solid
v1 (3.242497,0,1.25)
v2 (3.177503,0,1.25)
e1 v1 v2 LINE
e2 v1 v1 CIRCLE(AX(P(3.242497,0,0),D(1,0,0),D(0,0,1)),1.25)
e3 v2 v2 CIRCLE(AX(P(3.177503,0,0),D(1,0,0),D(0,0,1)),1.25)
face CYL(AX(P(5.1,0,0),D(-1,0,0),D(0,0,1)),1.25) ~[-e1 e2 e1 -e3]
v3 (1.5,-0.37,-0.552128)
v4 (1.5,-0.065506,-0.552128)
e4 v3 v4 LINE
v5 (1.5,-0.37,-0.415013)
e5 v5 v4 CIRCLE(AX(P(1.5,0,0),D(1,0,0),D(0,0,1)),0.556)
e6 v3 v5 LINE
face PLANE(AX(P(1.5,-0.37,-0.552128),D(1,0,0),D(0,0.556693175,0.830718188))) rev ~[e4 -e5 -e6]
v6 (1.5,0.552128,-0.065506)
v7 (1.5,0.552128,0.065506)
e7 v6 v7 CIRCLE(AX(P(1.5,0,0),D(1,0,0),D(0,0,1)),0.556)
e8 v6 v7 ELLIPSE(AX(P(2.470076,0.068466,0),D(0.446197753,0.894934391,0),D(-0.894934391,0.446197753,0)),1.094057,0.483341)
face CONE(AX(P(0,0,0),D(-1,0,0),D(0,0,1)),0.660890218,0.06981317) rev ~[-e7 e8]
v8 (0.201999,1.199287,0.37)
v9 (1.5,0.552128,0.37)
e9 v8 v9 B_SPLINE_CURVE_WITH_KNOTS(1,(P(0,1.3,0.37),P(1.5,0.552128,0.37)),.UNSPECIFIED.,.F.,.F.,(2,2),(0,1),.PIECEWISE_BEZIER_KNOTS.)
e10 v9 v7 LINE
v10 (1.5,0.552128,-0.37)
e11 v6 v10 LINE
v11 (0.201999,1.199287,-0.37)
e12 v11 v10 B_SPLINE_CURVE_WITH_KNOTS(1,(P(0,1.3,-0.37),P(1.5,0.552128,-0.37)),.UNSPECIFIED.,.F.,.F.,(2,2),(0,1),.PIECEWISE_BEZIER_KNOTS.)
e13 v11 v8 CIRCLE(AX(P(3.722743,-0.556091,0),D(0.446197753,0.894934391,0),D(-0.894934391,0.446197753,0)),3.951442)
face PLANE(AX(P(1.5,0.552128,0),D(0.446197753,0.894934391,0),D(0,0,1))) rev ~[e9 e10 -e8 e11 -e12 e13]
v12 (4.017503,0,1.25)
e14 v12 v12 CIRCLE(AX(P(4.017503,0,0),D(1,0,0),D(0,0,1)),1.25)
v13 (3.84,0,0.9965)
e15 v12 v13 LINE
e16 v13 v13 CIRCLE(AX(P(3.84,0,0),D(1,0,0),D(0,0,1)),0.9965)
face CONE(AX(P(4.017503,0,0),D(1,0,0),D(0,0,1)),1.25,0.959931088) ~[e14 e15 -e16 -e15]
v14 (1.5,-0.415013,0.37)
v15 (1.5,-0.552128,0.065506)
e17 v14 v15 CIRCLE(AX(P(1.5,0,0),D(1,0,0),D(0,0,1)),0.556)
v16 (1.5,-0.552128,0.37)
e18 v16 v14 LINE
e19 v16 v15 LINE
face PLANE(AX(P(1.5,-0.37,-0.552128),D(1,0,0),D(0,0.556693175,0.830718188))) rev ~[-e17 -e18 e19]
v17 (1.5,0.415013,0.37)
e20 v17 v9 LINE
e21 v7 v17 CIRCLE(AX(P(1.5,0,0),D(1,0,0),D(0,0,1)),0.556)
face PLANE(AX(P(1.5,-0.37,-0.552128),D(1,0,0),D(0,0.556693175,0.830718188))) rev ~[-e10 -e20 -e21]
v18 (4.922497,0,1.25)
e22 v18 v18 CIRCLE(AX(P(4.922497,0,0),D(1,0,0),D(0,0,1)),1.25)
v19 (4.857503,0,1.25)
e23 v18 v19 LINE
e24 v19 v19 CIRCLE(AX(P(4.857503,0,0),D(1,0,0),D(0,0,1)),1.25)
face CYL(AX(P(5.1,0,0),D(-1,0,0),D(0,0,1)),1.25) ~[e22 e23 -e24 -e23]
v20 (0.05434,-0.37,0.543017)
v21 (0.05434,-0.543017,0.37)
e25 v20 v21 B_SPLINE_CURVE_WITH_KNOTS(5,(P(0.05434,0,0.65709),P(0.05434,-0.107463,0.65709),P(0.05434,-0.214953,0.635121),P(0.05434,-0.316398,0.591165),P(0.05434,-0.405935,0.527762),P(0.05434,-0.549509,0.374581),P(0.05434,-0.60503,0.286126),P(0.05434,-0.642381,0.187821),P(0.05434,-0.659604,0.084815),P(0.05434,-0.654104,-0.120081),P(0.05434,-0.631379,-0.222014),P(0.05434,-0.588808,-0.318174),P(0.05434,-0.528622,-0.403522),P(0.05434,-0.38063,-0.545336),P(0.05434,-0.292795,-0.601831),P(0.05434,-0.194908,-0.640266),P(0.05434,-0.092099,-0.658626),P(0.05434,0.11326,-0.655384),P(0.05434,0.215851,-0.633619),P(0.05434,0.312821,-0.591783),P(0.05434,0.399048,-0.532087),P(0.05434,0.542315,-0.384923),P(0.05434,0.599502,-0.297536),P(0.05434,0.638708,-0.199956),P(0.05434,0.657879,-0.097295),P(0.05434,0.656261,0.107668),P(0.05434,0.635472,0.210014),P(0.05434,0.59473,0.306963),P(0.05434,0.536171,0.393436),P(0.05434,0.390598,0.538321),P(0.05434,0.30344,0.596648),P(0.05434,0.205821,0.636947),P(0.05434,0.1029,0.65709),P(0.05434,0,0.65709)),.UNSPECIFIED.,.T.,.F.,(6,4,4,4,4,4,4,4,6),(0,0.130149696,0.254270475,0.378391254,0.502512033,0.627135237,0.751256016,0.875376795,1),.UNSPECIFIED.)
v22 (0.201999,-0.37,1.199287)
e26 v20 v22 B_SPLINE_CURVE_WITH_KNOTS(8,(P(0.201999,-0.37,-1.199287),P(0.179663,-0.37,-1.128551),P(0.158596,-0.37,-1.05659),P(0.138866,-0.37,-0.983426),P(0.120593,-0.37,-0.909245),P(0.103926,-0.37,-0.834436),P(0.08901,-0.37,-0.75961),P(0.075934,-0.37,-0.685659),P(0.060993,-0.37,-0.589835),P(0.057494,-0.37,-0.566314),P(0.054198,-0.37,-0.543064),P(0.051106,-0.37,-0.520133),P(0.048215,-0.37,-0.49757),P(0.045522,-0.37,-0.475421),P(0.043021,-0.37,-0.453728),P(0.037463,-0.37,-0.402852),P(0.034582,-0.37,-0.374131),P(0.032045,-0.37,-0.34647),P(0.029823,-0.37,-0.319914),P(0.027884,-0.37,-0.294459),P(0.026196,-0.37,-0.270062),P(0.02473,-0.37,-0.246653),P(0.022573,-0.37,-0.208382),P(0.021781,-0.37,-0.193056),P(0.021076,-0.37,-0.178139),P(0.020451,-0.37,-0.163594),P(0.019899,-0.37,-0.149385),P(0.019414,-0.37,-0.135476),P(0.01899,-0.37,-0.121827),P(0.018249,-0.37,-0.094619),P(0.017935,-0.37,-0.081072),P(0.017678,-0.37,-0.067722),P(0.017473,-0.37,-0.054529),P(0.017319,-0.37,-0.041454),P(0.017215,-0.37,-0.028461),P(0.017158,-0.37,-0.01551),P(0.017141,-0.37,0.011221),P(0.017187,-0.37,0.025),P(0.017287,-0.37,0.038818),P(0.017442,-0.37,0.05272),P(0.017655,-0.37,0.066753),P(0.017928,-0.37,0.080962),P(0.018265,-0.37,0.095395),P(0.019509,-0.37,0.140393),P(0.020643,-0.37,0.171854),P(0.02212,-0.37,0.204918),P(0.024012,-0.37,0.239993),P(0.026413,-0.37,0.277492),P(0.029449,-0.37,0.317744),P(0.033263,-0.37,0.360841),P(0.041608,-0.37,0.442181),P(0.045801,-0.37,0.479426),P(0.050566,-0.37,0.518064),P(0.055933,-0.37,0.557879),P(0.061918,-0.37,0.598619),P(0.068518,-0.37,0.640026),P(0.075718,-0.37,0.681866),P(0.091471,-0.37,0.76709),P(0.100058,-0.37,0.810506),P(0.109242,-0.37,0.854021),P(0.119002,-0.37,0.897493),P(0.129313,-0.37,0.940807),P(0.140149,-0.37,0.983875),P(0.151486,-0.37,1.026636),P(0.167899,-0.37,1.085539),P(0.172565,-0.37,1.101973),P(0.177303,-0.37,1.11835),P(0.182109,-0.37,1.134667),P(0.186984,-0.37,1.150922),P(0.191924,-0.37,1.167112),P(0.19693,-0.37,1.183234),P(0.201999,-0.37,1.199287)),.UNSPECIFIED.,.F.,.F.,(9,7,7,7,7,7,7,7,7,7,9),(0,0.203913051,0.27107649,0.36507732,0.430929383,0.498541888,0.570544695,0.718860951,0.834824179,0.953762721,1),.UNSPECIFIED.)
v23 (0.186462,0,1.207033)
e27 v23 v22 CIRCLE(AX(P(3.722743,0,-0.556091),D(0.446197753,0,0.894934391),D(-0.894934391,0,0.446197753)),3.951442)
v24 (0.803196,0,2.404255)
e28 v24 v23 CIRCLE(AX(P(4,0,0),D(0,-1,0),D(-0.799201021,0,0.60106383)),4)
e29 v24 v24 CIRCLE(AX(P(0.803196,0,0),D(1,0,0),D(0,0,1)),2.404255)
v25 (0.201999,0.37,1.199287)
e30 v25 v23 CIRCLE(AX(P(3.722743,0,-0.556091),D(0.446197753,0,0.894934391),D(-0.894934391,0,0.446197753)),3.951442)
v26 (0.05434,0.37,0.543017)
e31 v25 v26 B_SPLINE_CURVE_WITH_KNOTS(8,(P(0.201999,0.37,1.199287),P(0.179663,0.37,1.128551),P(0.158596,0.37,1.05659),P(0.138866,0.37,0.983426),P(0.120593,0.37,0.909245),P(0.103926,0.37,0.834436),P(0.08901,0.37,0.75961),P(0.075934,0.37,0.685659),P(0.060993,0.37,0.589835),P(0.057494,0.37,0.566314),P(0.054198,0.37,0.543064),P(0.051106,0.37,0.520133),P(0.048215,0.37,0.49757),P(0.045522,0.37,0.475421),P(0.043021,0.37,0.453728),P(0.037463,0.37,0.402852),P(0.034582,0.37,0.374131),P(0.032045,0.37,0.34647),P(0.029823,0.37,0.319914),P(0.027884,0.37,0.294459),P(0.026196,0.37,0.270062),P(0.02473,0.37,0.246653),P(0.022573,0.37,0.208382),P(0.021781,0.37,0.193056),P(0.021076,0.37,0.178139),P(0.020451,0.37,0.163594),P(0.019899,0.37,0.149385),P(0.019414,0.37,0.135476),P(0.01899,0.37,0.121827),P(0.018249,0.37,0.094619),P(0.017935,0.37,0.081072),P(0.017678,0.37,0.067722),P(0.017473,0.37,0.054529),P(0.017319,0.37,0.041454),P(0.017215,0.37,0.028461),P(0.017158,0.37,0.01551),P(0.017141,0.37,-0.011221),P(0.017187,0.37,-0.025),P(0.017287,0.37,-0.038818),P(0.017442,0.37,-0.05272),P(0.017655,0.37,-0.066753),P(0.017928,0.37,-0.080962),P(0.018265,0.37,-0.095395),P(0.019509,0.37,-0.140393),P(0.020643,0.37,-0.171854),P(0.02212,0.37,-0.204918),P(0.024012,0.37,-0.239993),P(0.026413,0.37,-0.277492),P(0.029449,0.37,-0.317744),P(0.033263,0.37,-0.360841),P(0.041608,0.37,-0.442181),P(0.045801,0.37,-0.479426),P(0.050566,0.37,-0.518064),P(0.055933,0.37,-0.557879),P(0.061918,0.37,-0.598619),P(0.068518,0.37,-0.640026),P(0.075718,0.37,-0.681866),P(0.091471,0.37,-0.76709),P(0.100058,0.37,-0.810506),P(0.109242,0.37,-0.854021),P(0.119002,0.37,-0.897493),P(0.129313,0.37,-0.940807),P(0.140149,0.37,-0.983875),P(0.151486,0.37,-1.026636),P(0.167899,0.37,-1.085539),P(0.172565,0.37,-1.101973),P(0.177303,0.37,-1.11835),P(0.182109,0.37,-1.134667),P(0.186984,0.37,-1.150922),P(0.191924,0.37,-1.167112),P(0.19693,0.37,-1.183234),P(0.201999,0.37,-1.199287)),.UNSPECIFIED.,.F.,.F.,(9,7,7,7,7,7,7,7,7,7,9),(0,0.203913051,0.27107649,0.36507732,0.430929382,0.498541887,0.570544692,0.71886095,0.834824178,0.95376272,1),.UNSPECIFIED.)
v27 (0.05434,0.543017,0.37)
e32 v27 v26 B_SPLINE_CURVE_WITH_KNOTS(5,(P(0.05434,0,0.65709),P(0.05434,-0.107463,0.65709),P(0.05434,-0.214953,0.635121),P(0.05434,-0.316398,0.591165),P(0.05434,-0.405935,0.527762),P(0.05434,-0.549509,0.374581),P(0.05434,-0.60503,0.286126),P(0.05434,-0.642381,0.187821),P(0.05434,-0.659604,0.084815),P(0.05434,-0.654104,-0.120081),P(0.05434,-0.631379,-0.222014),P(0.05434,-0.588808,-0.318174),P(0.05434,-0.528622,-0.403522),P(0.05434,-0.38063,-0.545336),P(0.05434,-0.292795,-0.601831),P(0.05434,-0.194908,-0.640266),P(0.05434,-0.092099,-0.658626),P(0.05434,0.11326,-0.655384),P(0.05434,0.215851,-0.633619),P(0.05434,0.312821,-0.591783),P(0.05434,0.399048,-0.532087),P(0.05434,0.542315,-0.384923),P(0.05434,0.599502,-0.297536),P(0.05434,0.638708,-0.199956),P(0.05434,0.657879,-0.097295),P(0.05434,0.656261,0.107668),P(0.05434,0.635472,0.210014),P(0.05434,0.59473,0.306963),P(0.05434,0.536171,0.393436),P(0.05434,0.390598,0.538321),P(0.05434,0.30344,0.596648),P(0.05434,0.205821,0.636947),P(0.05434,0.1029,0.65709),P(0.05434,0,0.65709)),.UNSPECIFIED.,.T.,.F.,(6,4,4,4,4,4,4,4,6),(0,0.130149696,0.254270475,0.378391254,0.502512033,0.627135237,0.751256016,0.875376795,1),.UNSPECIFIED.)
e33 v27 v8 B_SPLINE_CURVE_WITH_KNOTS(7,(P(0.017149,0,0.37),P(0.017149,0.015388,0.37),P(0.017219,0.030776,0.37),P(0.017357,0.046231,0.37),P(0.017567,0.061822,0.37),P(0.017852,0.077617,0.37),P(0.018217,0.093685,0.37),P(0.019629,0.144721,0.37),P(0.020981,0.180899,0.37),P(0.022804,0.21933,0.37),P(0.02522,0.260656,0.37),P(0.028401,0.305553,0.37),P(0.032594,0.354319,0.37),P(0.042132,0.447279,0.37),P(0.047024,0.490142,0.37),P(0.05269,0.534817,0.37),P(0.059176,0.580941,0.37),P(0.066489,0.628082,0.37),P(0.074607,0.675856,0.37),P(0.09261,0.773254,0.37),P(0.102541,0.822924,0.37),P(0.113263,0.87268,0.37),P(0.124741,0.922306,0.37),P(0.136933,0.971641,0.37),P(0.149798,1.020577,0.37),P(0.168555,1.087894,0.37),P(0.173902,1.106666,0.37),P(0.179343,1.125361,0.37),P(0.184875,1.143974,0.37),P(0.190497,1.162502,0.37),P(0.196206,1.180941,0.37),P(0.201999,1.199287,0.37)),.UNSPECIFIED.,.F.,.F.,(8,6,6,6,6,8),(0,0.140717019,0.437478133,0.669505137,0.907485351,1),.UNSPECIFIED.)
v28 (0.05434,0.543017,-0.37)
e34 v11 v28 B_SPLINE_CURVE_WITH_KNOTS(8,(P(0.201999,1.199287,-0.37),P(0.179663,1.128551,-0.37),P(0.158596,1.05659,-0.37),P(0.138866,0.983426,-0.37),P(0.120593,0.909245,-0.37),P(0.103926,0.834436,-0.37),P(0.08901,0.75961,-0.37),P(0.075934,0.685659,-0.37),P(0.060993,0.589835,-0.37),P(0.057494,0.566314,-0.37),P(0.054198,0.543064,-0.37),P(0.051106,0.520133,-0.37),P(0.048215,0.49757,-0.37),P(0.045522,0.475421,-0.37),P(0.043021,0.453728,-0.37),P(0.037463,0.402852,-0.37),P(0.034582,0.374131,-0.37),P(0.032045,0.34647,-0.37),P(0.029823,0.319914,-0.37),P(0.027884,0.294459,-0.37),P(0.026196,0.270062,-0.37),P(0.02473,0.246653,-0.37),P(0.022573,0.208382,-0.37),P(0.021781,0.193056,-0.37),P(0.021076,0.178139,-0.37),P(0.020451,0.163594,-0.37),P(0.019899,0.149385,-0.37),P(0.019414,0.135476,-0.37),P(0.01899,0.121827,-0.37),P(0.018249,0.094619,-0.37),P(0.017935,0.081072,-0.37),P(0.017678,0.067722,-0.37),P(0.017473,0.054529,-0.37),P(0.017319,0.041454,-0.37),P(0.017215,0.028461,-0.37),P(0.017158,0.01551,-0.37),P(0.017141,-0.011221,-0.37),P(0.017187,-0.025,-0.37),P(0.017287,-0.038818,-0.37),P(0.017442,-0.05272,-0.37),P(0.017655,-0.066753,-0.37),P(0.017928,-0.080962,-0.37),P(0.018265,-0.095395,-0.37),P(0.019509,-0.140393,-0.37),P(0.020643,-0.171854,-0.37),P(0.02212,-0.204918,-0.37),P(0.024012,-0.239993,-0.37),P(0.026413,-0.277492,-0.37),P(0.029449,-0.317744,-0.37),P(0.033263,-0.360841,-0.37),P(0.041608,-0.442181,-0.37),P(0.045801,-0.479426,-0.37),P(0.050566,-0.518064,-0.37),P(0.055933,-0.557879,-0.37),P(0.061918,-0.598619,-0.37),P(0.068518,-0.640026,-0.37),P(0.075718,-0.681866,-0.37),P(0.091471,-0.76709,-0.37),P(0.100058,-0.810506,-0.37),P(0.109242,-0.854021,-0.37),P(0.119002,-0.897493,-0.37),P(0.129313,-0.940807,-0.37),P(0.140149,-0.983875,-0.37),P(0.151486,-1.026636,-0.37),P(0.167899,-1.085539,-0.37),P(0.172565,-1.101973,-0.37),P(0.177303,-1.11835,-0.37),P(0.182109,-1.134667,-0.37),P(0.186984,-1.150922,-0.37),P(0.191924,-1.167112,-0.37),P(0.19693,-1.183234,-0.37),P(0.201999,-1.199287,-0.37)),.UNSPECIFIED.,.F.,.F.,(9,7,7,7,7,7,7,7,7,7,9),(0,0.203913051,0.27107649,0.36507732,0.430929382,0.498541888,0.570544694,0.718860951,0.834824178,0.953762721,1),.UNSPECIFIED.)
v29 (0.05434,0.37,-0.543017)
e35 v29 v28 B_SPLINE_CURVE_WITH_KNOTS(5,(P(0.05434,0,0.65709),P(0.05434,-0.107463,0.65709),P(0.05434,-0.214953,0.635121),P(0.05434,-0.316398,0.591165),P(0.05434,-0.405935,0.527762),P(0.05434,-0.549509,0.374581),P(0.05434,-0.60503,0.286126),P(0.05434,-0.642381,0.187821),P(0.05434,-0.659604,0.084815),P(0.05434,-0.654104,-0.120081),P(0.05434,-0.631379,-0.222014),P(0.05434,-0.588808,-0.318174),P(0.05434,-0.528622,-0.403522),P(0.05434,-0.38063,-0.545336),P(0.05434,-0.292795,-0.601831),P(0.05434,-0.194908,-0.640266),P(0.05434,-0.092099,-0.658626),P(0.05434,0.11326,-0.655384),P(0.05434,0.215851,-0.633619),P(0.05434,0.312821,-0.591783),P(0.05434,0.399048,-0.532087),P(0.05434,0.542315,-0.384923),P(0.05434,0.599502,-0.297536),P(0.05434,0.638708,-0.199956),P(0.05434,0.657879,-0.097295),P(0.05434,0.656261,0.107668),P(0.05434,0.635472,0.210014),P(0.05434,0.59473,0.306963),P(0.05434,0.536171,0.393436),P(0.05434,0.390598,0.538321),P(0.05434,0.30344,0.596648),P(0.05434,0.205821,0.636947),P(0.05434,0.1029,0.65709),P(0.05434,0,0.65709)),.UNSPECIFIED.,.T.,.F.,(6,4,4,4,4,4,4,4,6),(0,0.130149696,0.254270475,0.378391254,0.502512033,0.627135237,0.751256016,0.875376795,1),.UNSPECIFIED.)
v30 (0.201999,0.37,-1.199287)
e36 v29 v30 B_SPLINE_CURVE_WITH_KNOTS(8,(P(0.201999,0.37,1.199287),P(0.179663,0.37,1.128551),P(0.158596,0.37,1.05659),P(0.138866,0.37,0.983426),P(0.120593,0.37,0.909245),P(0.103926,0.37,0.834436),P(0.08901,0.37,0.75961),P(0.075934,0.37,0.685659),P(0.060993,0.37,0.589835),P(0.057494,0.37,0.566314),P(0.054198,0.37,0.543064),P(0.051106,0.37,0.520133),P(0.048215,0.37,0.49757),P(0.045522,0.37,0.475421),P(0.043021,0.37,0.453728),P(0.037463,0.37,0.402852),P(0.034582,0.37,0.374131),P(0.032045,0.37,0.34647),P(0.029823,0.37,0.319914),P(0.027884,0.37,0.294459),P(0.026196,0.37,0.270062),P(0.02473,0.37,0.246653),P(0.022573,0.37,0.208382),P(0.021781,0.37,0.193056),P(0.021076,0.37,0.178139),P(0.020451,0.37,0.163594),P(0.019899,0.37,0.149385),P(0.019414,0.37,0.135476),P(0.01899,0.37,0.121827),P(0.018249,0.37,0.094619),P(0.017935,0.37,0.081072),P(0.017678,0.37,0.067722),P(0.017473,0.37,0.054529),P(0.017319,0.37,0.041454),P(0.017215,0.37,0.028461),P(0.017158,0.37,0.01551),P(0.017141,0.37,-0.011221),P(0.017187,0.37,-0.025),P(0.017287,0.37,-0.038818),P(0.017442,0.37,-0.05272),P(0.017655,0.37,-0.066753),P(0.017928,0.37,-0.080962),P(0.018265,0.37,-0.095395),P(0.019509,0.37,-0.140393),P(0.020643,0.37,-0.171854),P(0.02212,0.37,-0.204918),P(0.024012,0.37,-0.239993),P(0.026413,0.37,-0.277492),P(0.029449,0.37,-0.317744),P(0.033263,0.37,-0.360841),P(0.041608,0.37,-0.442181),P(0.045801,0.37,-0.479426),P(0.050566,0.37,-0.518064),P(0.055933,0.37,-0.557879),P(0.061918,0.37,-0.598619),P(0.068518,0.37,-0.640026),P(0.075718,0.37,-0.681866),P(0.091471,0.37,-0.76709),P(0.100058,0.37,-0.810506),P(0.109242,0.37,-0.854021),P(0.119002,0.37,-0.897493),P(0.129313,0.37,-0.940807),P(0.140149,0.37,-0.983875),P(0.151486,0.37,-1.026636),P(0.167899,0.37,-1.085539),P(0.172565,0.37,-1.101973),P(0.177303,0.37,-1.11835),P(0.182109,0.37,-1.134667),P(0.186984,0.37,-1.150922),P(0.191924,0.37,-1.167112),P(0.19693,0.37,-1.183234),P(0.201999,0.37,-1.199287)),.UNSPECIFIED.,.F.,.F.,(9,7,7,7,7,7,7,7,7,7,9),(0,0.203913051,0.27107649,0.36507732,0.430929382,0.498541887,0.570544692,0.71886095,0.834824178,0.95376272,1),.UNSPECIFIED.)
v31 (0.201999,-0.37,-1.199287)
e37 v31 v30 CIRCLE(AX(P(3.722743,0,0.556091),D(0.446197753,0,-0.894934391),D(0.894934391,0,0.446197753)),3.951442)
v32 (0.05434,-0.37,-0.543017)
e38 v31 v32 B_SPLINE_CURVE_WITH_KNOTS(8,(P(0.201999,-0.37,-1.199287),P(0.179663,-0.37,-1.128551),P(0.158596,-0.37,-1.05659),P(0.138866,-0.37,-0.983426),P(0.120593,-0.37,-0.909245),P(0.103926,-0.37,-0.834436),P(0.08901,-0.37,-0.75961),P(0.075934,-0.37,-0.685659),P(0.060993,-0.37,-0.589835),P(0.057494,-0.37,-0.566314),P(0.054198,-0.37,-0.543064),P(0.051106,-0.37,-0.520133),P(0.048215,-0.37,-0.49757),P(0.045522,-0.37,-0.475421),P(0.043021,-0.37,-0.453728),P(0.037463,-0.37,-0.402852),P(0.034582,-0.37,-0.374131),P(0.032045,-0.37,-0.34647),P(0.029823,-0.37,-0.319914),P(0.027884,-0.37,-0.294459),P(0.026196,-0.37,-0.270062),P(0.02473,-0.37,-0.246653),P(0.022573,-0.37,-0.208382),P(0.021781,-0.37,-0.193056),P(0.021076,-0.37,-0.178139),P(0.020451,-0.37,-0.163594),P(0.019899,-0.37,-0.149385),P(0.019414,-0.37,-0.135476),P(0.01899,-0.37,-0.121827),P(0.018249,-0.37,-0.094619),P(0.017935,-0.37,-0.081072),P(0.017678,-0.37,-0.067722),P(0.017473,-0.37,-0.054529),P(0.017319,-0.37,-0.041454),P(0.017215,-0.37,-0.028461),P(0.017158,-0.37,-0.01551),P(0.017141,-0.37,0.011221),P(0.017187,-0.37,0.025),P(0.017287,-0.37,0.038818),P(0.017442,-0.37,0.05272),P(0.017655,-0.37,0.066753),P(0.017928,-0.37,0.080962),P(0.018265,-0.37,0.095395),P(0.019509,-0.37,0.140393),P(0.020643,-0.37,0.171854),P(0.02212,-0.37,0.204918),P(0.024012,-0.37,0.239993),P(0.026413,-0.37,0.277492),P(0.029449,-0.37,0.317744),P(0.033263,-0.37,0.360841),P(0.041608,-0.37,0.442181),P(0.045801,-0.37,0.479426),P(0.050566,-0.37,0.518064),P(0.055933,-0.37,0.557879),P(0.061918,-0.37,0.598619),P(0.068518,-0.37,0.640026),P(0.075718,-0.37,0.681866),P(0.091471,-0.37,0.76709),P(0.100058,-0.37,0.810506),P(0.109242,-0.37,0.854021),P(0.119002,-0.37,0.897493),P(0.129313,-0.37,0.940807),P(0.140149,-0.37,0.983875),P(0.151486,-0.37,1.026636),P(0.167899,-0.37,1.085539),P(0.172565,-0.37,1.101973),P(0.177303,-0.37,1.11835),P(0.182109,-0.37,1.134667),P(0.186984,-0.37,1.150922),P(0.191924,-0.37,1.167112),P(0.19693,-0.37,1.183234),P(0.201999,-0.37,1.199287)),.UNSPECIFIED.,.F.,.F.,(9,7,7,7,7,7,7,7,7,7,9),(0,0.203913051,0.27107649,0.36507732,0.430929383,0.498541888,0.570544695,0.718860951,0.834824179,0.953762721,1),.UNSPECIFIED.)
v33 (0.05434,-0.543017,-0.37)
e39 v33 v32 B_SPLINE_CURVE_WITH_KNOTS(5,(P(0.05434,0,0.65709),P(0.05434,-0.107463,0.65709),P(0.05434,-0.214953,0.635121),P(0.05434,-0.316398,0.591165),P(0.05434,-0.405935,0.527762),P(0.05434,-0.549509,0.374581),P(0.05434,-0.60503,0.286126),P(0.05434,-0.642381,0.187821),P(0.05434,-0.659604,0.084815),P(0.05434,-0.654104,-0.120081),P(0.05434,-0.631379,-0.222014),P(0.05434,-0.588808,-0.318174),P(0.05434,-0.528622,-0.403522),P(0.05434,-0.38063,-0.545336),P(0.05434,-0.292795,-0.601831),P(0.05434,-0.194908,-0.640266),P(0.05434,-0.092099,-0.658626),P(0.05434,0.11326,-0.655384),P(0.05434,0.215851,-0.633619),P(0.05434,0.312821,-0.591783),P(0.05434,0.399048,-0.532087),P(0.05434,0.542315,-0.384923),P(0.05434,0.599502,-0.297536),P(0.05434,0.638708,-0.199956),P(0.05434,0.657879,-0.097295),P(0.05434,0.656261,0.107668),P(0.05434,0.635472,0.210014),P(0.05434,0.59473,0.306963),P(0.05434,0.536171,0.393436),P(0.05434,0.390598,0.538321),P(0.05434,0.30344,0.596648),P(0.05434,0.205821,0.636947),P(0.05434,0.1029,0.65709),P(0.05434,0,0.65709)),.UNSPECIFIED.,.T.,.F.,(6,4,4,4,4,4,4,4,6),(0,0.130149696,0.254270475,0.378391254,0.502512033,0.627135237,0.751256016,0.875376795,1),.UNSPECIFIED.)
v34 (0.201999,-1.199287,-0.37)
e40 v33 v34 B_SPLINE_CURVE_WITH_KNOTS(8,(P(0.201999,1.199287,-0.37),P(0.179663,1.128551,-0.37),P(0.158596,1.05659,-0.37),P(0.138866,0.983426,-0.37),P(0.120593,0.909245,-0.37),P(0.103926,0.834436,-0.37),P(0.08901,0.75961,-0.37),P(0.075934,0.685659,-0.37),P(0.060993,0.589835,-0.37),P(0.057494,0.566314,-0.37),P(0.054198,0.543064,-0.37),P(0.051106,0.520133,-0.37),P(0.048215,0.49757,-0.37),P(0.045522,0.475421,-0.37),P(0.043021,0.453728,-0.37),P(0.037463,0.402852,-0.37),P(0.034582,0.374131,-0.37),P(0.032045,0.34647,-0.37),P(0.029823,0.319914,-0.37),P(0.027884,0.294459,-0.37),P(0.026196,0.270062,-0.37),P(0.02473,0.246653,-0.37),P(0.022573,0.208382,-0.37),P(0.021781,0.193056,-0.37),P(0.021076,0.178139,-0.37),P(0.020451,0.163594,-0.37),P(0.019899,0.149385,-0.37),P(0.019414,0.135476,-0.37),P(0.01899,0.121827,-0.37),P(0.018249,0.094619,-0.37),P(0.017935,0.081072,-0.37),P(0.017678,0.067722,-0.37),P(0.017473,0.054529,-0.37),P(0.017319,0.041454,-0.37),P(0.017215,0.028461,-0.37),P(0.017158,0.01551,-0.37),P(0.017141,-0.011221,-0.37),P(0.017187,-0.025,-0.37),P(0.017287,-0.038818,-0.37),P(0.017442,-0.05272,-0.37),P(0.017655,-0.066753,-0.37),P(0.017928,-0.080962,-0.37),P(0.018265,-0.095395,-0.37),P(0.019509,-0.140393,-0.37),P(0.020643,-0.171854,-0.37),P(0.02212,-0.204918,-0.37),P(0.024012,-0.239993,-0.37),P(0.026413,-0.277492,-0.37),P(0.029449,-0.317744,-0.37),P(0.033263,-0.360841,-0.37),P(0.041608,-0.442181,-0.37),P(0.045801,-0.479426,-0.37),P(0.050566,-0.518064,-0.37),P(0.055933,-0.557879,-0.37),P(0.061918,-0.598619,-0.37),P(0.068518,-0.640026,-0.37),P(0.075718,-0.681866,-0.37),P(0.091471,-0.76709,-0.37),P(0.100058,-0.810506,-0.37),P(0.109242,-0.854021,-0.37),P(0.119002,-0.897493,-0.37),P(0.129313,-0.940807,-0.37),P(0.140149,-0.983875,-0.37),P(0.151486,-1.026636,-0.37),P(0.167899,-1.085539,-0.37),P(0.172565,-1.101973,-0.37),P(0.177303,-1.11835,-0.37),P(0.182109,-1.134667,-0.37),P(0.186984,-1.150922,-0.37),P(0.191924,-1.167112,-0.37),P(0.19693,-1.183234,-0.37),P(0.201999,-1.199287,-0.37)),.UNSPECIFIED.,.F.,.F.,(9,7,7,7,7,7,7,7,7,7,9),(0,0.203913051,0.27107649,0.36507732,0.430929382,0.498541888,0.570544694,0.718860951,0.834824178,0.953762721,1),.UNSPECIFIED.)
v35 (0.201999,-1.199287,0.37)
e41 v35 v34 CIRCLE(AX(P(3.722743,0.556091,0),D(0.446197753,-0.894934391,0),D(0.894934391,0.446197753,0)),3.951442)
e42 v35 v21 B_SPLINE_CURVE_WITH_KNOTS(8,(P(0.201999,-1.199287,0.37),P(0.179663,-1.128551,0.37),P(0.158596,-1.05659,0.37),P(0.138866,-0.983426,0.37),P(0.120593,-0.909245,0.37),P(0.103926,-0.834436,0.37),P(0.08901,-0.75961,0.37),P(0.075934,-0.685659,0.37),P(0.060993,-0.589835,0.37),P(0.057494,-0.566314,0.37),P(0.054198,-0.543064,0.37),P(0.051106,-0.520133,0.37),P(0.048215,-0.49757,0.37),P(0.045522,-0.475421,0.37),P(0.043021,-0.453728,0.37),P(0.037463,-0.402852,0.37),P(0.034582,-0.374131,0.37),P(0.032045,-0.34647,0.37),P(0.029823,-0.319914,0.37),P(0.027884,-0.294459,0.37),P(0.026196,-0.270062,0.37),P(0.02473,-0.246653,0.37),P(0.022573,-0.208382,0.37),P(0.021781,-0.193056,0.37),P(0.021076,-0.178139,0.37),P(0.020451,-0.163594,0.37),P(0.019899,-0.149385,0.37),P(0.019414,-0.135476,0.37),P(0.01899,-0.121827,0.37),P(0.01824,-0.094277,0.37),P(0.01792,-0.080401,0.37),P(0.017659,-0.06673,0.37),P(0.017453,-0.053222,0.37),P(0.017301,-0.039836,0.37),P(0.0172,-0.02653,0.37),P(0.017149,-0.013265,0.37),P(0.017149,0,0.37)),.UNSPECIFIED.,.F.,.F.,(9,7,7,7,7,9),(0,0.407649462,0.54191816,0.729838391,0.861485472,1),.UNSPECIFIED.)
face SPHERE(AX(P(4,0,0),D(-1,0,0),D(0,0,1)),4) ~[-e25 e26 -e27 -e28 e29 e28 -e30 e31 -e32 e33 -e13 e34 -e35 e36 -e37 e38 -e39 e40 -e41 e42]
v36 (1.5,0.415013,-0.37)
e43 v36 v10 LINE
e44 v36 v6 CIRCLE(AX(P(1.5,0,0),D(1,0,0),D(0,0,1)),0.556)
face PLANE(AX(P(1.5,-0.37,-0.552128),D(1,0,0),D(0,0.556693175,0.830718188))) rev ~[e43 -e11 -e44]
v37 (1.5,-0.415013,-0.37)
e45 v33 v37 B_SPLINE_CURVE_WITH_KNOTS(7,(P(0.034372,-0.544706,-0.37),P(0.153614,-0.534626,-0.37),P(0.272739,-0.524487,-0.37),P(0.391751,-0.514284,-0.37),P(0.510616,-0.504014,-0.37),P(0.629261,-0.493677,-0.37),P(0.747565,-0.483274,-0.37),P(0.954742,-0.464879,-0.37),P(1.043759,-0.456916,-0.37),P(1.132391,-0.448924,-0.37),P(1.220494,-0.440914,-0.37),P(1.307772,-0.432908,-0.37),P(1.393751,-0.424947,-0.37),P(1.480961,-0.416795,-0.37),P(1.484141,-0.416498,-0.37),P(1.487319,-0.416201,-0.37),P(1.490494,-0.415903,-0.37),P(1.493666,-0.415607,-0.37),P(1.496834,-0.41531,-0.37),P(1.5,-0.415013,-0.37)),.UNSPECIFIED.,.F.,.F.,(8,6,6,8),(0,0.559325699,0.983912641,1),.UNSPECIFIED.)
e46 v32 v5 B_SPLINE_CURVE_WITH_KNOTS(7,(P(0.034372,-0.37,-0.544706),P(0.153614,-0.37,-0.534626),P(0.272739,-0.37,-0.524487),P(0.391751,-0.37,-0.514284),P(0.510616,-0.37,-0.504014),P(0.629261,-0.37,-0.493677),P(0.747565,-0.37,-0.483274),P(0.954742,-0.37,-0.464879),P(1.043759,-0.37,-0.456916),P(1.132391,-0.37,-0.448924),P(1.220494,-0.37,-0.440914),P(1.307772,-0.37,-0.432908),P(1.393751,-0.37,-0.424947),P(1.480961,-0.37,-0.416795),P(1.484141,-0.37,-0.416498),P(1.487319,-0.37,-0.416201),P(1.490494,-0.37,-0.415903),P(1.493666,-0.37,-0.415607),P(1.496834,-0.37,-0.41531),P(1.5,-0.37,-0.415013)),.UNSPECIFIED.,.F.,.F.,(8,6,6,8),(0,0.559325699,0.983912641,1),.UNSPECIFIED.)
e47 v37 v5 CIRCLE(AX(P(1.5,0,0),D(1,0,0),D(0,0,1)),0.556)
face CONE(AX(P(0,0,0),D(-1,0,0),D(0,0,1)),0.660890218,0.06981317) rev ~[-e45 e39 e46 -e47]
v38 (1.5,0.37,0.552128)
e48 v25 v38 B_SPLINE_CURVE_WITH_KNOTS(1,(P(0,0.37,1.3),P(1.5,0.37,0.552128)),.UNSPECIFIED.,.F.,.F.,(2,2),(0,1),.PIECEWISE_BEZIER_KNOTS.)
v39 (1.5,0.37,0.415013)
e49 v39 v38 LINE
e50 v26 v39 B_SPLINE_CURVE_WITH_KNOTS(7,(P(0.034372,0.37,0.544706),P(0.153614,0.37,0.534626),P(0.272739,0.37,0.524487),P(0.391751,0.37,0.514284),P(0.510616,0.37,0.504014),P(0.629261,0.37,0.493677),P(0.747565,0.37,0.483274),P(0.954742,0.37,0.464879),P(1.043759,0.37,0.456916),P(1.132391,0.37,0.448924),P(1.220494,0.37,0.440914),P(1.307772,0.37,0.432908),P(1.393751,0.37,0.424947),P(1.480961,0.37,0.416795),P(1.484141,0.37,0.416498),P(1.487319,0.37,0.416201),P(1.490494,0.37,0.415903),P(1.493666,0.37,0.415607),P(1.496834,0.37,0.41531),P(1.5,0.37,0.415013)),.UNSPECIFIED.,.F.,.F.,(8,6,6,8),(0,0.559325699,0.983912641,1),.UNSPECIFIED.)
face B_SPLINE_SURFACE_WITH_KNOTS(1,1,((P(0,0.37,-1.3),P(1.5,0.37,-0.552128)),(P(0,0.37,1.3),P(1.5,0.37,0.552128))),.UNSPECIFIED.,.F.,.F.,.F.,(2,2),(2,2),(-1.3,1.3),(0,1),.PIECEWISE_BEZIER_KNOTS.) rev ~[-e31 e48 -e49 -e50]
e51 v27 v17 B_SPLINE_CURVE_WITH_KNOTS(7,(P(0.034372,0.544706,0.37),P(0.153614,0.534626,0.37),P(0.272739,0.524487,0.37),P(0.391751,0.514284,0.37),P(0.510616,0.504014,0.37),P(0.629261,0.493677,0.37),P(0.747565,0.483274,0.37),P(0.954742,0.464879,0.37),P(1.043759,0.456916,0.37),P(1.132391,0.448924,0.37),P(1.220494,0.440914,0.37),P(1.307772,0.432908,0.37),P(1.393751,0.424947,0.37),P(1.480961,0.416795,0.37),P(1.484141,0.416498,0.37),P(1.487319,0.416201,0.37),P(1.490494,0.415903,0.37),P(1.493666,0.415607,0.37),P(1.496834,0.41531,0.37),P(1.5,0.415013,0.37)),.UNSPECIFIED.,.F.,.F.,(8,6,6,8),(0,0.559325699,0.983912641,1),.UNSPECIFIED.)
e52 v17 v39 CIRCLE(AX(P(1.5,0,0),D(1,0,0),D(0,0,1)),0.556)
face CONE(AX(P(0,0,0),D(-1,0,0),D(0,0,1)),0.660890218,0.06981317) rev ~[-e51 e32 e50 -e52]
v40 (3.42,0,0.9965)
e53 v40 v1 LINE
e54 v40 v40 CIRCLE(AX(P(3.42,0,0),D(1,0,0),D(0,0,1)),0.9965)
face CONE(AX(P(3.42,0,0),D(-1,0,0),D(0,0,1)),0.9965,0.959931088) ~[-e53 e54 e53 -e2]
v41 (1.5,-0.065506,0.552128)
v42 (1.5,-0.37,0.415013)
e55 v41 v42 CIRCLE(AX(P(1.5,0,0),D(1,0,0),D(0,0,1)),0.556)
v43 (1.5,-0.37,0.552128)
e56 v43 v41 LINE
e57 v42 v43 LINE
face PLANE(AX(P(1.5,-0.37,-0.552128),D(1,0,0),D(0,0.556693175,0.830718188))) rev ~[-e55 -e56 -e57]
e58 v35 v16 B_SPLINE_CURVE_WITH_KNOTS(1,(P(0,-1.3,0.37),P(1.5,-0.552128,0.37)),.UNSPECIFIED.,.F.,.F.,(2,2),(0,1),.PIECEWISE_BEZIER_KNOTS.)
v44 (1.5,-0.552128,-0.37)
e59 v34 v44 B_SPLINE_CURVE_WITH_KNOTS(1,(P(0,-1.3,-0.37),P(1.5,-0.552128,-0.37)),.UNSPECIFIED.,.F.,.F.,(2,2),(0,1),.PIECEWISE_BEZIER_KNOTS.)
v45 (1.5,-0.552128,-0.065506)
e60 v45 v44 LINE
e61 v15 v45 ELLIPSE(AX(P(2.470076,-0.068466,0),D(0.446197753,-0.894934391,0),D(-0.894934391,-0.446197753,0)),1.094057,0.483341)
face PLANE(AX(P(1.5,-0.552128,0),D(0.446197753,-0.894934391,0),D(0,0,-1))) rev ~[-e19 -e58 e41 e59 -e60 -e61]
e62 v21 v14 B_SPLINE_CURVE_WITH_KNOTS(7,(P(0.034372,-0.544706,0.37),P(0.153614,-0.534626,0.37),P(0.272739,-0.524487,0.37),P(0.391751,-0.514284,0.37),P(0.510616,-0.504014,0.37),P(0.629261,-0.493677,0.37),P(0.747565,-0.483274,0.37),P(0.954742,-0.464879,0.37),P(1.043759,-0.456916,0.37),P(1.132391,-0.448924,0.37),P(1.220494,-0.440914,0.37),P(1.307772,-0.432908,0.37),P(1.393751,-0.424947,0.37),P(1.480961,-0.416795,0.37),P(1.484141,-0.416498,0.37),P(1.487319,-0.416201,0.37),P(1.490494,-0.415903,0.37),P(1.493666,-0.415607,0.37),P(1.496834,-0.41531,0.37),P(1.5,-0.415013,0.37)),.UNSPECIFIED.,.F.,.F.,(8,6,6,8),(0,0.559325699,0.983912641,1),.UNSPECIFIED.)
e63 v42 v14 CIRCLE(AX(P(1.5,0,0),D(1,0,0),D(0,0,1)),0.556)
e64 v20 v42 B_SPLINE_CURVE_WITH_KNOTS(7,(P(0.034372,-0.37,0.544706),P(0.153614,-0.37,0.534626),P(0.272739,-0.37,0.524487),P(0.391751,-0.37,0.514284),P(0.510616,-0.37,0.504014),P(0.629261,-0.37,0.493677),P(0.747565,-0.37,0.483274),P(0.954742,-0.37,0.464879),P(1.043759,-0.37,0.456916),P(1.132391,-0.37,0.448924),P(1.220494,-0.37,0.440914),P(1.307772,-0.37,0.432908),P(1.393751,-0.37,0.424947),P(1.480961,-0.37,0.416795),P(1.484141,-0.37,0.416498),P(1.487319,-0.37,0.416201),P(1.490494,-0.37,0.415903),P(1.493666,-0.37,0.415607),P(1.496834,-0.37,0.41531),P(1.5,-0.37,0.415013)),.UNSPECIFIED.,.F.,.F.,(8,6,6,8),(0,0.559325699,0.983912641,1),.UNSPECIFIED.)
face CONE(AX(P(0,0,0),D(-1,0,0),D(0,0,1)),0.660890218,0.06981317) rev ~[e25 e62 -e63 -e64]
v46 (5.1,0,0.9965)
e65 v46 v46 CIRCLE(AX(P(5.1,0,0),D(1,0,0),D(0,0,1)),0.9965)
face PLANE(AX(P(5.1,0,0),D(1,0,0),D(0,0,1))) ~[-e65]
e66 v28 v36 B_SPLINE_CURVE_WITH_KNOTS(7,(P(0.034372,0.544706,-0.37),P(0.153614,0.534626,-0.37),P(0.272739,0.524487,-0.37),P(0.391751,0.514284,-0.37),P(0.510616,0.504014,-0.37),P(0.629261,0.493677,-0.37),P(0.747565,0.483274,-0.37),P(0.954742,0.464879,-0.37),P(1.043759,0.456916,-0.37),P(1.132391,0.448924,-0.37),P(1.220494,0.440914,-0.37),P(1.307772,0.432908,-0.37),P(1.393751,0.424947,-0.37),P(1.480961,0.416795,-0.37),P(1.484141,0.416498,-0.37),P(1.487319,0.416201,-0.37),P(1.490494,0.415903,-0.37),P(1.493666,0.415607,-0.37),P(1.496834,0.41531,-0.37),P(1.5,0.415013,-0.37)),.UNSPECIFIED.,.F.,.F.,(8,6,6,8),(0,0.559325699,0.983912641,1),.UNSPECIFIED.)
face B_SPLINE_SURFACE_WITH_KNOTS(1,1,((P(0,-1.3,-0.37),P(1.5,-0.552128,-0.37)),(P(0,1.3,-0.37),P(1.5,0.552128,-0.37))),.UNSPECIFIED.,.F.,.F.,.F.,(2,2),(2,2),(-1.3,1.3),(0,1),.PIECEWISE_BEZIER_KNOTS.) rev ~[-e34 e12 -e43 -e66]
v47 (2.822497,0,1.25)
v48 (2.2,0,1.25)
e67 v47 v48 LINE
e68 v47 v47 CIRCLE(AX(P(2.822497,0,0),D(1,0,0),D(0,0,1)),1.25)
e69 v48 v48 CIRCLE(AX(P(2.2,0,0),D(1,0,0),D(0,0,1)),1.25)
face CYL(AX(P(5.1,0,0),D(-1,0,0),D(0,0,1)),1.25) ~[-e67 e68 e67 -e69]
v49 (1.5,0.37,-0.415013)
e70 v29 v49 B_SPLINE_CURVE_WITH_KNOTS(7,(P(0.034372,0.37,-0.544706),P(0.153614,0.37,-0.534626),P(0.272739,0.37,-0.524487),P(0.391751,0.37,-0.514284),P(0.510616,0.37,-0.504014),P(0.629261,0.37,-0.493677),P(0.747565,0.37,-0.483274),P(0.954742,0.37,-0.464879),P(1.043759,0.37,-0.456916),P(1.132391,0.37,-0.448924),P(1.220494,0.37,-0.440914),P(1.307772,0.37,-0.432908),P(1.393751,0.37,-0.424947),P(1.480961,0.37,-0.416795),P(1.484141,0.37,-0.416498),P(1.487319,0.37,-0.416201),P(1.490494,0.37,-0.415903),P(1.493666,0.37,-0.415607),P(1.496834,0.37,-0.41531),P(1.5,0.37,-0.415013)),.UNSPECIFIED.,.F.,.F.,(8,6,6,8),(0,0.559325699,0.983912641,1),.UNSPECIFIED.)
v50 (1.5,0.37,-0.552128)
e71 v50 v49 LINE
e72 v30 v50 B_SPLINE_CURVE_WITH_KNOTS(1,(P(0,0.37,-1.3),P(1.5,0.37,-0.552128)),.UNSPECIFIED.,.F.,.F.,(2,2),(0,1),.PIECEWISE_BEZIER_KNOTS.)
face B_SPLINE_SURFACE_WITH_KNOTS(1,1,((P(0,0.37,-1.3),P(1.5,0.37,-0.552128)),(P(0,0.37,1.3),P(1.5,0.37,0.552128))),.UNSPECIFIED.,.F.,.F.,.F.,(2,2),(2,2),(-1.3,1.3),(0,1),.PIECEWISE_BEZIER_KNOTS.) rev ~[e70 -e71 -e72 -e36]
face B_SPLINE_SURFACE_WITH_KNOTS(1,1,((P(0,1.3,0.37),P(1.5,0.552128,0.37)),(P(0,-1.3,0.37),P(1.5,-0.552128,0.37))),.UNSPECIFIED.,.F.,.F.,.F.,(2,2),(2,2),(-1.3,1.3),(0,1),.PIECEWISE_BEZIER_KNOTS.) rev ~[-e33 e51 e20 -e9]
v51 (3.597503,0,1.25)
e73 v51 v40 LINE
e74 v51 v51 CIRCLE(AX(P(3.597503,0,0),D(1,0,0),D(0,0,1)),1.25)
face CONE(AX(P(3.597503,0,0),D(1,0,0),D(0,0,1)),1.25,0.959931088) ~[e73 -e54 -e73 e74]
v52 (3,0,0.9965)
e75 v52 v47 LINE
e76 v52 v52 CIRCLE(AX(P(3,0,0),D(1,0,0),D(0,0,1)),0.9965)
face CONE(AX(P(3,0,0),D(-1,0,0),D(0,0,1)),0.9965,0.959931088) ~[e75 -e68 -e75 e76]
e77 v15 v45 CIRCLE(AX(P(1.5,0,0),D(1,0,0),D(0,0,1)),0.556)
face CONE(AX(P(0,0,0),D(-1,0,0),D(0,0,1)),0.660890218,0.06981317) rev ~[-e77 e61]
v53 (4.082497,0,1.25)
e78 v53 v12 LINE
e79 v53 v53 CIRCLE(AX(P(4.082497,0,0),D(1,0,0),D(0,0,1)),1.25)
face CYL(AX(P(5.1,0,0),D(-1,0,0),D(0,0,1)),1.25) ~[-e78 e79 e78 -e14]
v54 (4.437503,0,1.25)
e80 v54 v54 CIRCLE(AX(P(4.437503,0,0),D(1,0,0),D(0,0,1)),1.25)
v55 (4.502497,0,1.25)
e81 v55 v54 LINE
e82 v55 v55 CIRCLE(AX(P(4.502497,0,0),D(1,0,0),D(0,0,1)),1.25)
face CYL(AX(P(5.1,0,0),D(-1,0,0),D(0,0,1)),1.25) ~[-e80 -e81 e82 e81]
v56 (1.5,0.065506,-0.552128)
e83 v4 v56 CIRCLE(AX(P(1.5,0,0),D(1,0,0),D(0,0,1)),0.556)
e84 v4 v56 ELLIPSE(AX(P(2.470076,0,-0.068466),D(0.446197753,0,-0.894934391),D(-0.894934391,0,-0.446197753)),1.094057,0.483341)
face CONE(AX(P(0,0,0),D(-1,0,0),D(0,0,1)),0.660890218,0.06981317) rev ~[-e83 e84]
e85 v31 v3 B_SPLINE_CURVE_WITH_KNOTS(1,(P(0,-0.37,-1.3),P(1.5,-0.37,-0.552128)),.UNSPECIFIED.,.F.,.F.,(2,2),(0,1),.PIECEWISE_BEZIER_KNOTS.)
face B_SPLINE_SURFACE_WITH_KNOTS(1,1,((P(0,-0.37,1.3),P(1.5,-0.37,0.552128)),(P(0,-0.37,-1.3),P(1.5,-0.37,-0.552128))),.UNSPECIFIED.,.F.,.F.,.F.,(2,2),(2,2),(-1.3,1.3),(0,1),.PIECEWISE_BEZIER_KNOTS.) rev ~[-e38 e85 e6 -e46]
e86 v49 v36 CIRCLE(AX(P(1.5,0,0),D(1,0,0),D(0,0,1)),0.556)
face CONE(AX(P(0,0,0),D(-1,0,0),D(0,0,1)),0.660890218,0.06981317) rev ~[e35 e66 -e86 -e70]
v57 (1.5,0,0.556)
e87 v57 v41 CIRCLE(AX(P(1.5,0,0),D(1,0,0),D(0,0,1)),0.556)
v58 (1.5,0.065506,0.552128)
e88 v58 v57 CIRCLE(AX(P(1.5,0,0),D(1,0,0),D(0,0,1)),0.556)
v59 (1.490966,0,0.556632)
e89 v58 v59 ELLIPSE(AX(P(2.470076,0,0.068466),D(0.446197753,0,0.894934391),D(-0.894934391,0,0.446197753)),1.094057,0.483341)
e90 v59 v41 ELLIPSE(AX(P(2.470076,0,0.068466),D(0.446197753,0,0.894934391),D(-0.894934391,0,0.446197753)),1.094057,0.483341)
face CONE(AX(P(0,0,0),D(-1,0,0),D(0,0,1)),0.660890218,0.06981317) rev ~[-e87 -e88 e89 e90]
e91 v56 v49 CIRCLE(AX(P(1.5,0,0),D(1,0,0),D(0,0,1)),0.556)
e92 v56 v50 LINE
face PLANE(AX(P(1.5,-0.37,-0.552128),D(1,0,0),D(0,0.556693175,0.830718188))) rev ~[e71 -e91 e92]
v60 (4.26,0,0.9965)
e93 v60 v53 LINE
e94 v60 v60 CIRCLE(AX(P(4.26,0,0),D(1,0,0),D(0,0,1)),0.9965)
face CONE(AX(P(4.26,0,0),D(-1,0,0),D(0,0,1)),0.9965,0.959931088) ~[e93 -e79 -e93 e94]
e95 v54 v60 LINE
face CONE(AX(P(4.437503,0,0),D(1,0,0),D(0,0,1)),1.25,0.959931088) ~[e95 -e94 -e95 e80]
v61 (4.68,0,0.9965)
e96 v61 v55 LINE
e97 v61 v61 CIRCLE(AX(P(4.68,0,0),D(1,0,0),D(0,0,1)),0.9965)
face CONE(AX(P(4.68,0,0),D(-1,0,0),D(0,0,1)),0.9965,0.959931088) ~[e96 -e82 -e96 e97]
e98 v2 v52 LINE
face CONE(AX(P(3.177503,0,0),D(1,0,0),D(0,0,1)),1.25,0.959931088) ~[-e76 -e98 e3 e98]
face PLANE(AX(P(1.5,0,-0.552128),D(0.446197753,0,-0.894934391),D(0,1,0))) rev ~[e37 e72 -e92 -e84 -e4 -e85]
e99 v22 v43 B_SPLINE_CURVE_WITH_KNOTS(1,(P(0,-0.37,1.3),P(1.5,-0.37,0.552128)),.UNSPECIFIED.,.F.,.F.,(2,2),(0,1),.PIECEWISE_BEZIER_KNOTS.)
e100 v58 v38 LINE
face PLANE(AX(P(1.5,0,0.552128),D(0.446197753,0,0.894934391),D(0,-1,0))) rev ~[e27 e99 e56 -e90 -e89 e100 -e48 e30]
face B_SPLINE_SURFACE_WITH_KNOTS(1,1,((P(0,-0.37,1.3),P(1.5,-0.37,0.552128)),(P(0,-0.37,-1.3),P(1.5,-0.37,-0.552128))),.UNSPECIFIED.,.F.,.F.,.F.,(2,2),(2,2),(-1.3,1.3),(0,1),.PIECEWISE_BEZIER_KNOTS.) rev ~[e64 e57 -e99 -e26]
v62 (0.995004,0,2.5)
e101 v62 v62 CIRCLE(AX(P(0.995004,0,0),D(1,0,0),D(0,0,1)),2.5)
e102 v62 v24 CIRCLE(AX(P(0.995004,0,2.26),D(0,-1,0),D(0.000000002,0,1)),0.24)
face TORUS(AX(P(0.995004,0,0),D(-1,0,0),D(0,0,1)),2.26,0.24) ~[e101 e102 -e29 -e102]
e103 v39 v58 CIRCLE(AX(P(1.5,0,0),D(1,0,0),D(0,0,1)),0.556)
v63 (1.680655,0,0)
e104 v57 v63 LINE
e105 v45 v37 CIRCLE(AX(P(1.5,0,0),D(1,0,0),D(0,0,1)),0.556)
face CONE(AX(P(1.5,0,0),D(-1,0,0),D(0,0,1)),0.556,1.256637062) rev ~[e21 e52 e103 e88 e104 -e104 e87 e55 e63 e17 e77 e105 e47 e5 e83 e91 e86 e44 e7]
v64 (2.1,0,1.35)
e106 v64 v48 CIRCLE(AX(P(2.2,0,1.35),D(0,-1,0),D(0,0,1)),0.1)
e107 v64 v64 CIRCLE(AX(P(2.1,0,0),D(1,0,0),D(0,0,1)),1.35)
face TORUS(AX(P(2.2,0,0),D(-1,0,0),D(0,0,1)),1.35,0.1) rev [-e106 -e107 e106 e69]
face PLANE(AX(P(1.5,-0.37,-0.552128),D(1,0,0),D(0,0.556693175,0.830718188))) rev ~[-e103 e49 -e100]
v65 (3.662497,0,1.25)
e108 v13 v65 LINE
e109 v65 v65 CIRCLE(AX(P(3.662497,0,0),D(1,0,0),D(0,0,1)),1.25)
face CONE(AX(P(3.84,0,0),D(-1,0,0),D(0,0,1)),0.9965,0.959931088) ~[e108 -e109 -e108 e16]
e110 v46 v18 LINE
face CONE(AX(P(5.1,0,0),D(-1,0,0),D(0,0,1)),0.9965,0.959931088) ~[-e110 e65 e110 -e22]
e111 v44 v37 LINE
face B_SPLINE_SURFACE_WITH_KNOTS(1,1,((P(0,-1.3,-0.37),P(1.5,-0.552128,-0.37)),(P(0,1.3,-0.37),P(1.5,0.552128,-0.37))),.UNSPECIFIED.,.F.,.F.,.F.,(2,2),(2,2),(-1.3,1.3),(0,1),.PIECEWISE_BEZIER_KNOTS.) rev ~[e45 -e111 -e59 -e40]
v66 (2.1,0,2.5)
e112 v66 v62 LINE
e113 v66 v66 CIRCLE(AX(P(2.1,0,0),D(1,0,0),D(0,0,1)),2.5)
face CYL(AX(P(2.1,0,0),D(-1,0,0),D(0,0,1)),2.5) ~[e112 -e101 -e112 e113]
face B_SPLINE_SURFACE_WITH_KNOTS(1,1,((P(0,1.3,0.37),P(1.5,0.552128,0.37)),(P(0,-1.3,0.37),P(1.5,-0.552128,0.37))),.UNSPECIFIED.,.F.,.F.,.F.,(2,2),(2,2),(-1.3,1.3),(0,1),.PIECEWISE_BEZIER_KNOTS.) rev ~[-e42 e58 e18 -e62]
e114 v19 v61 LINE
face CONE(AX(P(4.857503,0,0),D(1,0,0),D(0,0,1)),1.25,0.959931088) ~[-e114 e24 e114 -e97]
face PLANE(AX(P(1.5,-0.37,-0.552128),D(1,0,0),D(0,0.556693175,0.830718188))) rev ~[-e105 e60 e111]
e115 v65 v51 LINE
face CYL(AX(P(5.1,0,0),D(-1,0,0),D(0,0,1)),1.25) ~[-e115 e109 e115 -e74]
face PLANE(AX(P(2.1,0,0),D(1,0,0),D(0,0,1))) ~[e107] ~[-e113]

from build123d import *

# Parameters (mm, degrees)
FILLET1_R       = 0.1
SKETCH3_W       = 0.74
SKETCH3_H       = 2.6
SKETCH4_W       = 0.74
SKETCH4_H       = 1.104255426
RECPAT_COUNT    = 2
RECPAT_ANGLE    = 90
THDSCHPAT_COUNT = 6
THDSCHPAT_PITCH = 0.42


with BuildPart() as part:
    # BodySke → Base-Revolve (revolve)
    with BuildSketch(Plane.XY, mode=Mode.PRIVATE) as base_revolve_sk:
        with BuildLine():
            Line((2.1, 1.25), (2.1, 2.5))
            Line((2.1, 2.5), (0.99500416, 2.5))
            ThreePointArc((0.99500416, 2.5), (0.88781572, 2.474733878), (0.803195915, 2.404255319))
            ThreePointArc((0.803195915, 2.404255319), (0.206109099, 1.267435138), (0, 0))
            Line((0, 0), (5.1, 0))
            Line((5.1, 0), (5.1, 1.25))
            Line((5.1, 1.25), (2.1, 1.25))
        make_face()
    revolve(base_revolve_sk.sketch.rotate(Axis((-25.4, 0, 0), (1, 0, 0)), 90), axis=Axis((-25.4, 0, 0), (1, 0, 0)))  # turned: the seam where the file's is

    # Fillet1
    fillet1_edges = [part.edges().sort_by_distance(p)[0] for p in [
        (2.1, 0, -1.25),
    ]]
    fillet(fillet1_edges, radius=FILLET1_R)

    # Sketch3 → Recess section 0
    with BuildSketch(Plane(origin=(0, 0, 0), x_dir=(0, 0, -1), z_dir=(1, 0, 0))):
        Rectangle(SKETCH3_W, SKETCH3_H)
    # Sketch4 → Recess section 1
    with BuildSketch(Plane(origin=(1.5, 0, 0), x_dir=(0, 0, -1), z_dir=(1, 0, 0))):
        Rectangle(SKETCH4_W, SKETCH4_H)
    recess = loft(mode=Mode.SUBTRACT)

    # RecPat: Recess ×2 about axis
    recpat_axis = Axis((0, 0, 0), (1, 0, 0))
    for i in range(1, RECPAT_COUNT):
        add(recess.rotate(recpat_axis, i * RECPAT_ANGLE / (RECPAT_COUNT - 1)), mode=Mode.SUBTRACT)

    # RecCorSke → RecessCore (revolve, cut)
    with BuildSketch(Plane.XY, mode=Mode.PRIVATE) as recesscore_sk:
        Polygon((0, 0), (0, 0.660890218), (1.5, 0.556), (1.680655351, 0), align=None)
    revolve(recesscore_sk.sketch.rotate(Axis((-3.175, 0, 0), (1, 0, 0)), 90), axis=Axis((-3.175, 0, 0), (1, 0, 0)), mode=Mode.SUBTRACT)  # turned: the seam where the file's is

    # ThdSchSke → ThreadSchematic (revolve, cut)
    with BuildSketch(Plane.XY, mode=Mode.PRIVATE) as threadschematic_sk:
        Polygon((3, -0.9965), (2.822497389, -1.25), (2.822497389, -1.5625), (3.177502611, -1.5625), (3.177502611, -1.25), align=None)
    threadschematic = revolve(threadschematic_sk.sketch.rotate(Axis((-3.175, 0, 0), (1, 0, 0)), 270), axis=Axis((-3.175, 0, 0), (1, 0, 0)), mode=Mode.SUBTRACT)  # turned: the seam where the file's is

    # ThdSchPat: ThreadSchematic ×6
    with Locations(*[(i * THDSCHPAT_PITCH, 0, 0) for i in range(1, THDSCHPAT_COUNT)]):
        add(threadschematic, mode=Mode.SUBTRACT)


solid = part.part
